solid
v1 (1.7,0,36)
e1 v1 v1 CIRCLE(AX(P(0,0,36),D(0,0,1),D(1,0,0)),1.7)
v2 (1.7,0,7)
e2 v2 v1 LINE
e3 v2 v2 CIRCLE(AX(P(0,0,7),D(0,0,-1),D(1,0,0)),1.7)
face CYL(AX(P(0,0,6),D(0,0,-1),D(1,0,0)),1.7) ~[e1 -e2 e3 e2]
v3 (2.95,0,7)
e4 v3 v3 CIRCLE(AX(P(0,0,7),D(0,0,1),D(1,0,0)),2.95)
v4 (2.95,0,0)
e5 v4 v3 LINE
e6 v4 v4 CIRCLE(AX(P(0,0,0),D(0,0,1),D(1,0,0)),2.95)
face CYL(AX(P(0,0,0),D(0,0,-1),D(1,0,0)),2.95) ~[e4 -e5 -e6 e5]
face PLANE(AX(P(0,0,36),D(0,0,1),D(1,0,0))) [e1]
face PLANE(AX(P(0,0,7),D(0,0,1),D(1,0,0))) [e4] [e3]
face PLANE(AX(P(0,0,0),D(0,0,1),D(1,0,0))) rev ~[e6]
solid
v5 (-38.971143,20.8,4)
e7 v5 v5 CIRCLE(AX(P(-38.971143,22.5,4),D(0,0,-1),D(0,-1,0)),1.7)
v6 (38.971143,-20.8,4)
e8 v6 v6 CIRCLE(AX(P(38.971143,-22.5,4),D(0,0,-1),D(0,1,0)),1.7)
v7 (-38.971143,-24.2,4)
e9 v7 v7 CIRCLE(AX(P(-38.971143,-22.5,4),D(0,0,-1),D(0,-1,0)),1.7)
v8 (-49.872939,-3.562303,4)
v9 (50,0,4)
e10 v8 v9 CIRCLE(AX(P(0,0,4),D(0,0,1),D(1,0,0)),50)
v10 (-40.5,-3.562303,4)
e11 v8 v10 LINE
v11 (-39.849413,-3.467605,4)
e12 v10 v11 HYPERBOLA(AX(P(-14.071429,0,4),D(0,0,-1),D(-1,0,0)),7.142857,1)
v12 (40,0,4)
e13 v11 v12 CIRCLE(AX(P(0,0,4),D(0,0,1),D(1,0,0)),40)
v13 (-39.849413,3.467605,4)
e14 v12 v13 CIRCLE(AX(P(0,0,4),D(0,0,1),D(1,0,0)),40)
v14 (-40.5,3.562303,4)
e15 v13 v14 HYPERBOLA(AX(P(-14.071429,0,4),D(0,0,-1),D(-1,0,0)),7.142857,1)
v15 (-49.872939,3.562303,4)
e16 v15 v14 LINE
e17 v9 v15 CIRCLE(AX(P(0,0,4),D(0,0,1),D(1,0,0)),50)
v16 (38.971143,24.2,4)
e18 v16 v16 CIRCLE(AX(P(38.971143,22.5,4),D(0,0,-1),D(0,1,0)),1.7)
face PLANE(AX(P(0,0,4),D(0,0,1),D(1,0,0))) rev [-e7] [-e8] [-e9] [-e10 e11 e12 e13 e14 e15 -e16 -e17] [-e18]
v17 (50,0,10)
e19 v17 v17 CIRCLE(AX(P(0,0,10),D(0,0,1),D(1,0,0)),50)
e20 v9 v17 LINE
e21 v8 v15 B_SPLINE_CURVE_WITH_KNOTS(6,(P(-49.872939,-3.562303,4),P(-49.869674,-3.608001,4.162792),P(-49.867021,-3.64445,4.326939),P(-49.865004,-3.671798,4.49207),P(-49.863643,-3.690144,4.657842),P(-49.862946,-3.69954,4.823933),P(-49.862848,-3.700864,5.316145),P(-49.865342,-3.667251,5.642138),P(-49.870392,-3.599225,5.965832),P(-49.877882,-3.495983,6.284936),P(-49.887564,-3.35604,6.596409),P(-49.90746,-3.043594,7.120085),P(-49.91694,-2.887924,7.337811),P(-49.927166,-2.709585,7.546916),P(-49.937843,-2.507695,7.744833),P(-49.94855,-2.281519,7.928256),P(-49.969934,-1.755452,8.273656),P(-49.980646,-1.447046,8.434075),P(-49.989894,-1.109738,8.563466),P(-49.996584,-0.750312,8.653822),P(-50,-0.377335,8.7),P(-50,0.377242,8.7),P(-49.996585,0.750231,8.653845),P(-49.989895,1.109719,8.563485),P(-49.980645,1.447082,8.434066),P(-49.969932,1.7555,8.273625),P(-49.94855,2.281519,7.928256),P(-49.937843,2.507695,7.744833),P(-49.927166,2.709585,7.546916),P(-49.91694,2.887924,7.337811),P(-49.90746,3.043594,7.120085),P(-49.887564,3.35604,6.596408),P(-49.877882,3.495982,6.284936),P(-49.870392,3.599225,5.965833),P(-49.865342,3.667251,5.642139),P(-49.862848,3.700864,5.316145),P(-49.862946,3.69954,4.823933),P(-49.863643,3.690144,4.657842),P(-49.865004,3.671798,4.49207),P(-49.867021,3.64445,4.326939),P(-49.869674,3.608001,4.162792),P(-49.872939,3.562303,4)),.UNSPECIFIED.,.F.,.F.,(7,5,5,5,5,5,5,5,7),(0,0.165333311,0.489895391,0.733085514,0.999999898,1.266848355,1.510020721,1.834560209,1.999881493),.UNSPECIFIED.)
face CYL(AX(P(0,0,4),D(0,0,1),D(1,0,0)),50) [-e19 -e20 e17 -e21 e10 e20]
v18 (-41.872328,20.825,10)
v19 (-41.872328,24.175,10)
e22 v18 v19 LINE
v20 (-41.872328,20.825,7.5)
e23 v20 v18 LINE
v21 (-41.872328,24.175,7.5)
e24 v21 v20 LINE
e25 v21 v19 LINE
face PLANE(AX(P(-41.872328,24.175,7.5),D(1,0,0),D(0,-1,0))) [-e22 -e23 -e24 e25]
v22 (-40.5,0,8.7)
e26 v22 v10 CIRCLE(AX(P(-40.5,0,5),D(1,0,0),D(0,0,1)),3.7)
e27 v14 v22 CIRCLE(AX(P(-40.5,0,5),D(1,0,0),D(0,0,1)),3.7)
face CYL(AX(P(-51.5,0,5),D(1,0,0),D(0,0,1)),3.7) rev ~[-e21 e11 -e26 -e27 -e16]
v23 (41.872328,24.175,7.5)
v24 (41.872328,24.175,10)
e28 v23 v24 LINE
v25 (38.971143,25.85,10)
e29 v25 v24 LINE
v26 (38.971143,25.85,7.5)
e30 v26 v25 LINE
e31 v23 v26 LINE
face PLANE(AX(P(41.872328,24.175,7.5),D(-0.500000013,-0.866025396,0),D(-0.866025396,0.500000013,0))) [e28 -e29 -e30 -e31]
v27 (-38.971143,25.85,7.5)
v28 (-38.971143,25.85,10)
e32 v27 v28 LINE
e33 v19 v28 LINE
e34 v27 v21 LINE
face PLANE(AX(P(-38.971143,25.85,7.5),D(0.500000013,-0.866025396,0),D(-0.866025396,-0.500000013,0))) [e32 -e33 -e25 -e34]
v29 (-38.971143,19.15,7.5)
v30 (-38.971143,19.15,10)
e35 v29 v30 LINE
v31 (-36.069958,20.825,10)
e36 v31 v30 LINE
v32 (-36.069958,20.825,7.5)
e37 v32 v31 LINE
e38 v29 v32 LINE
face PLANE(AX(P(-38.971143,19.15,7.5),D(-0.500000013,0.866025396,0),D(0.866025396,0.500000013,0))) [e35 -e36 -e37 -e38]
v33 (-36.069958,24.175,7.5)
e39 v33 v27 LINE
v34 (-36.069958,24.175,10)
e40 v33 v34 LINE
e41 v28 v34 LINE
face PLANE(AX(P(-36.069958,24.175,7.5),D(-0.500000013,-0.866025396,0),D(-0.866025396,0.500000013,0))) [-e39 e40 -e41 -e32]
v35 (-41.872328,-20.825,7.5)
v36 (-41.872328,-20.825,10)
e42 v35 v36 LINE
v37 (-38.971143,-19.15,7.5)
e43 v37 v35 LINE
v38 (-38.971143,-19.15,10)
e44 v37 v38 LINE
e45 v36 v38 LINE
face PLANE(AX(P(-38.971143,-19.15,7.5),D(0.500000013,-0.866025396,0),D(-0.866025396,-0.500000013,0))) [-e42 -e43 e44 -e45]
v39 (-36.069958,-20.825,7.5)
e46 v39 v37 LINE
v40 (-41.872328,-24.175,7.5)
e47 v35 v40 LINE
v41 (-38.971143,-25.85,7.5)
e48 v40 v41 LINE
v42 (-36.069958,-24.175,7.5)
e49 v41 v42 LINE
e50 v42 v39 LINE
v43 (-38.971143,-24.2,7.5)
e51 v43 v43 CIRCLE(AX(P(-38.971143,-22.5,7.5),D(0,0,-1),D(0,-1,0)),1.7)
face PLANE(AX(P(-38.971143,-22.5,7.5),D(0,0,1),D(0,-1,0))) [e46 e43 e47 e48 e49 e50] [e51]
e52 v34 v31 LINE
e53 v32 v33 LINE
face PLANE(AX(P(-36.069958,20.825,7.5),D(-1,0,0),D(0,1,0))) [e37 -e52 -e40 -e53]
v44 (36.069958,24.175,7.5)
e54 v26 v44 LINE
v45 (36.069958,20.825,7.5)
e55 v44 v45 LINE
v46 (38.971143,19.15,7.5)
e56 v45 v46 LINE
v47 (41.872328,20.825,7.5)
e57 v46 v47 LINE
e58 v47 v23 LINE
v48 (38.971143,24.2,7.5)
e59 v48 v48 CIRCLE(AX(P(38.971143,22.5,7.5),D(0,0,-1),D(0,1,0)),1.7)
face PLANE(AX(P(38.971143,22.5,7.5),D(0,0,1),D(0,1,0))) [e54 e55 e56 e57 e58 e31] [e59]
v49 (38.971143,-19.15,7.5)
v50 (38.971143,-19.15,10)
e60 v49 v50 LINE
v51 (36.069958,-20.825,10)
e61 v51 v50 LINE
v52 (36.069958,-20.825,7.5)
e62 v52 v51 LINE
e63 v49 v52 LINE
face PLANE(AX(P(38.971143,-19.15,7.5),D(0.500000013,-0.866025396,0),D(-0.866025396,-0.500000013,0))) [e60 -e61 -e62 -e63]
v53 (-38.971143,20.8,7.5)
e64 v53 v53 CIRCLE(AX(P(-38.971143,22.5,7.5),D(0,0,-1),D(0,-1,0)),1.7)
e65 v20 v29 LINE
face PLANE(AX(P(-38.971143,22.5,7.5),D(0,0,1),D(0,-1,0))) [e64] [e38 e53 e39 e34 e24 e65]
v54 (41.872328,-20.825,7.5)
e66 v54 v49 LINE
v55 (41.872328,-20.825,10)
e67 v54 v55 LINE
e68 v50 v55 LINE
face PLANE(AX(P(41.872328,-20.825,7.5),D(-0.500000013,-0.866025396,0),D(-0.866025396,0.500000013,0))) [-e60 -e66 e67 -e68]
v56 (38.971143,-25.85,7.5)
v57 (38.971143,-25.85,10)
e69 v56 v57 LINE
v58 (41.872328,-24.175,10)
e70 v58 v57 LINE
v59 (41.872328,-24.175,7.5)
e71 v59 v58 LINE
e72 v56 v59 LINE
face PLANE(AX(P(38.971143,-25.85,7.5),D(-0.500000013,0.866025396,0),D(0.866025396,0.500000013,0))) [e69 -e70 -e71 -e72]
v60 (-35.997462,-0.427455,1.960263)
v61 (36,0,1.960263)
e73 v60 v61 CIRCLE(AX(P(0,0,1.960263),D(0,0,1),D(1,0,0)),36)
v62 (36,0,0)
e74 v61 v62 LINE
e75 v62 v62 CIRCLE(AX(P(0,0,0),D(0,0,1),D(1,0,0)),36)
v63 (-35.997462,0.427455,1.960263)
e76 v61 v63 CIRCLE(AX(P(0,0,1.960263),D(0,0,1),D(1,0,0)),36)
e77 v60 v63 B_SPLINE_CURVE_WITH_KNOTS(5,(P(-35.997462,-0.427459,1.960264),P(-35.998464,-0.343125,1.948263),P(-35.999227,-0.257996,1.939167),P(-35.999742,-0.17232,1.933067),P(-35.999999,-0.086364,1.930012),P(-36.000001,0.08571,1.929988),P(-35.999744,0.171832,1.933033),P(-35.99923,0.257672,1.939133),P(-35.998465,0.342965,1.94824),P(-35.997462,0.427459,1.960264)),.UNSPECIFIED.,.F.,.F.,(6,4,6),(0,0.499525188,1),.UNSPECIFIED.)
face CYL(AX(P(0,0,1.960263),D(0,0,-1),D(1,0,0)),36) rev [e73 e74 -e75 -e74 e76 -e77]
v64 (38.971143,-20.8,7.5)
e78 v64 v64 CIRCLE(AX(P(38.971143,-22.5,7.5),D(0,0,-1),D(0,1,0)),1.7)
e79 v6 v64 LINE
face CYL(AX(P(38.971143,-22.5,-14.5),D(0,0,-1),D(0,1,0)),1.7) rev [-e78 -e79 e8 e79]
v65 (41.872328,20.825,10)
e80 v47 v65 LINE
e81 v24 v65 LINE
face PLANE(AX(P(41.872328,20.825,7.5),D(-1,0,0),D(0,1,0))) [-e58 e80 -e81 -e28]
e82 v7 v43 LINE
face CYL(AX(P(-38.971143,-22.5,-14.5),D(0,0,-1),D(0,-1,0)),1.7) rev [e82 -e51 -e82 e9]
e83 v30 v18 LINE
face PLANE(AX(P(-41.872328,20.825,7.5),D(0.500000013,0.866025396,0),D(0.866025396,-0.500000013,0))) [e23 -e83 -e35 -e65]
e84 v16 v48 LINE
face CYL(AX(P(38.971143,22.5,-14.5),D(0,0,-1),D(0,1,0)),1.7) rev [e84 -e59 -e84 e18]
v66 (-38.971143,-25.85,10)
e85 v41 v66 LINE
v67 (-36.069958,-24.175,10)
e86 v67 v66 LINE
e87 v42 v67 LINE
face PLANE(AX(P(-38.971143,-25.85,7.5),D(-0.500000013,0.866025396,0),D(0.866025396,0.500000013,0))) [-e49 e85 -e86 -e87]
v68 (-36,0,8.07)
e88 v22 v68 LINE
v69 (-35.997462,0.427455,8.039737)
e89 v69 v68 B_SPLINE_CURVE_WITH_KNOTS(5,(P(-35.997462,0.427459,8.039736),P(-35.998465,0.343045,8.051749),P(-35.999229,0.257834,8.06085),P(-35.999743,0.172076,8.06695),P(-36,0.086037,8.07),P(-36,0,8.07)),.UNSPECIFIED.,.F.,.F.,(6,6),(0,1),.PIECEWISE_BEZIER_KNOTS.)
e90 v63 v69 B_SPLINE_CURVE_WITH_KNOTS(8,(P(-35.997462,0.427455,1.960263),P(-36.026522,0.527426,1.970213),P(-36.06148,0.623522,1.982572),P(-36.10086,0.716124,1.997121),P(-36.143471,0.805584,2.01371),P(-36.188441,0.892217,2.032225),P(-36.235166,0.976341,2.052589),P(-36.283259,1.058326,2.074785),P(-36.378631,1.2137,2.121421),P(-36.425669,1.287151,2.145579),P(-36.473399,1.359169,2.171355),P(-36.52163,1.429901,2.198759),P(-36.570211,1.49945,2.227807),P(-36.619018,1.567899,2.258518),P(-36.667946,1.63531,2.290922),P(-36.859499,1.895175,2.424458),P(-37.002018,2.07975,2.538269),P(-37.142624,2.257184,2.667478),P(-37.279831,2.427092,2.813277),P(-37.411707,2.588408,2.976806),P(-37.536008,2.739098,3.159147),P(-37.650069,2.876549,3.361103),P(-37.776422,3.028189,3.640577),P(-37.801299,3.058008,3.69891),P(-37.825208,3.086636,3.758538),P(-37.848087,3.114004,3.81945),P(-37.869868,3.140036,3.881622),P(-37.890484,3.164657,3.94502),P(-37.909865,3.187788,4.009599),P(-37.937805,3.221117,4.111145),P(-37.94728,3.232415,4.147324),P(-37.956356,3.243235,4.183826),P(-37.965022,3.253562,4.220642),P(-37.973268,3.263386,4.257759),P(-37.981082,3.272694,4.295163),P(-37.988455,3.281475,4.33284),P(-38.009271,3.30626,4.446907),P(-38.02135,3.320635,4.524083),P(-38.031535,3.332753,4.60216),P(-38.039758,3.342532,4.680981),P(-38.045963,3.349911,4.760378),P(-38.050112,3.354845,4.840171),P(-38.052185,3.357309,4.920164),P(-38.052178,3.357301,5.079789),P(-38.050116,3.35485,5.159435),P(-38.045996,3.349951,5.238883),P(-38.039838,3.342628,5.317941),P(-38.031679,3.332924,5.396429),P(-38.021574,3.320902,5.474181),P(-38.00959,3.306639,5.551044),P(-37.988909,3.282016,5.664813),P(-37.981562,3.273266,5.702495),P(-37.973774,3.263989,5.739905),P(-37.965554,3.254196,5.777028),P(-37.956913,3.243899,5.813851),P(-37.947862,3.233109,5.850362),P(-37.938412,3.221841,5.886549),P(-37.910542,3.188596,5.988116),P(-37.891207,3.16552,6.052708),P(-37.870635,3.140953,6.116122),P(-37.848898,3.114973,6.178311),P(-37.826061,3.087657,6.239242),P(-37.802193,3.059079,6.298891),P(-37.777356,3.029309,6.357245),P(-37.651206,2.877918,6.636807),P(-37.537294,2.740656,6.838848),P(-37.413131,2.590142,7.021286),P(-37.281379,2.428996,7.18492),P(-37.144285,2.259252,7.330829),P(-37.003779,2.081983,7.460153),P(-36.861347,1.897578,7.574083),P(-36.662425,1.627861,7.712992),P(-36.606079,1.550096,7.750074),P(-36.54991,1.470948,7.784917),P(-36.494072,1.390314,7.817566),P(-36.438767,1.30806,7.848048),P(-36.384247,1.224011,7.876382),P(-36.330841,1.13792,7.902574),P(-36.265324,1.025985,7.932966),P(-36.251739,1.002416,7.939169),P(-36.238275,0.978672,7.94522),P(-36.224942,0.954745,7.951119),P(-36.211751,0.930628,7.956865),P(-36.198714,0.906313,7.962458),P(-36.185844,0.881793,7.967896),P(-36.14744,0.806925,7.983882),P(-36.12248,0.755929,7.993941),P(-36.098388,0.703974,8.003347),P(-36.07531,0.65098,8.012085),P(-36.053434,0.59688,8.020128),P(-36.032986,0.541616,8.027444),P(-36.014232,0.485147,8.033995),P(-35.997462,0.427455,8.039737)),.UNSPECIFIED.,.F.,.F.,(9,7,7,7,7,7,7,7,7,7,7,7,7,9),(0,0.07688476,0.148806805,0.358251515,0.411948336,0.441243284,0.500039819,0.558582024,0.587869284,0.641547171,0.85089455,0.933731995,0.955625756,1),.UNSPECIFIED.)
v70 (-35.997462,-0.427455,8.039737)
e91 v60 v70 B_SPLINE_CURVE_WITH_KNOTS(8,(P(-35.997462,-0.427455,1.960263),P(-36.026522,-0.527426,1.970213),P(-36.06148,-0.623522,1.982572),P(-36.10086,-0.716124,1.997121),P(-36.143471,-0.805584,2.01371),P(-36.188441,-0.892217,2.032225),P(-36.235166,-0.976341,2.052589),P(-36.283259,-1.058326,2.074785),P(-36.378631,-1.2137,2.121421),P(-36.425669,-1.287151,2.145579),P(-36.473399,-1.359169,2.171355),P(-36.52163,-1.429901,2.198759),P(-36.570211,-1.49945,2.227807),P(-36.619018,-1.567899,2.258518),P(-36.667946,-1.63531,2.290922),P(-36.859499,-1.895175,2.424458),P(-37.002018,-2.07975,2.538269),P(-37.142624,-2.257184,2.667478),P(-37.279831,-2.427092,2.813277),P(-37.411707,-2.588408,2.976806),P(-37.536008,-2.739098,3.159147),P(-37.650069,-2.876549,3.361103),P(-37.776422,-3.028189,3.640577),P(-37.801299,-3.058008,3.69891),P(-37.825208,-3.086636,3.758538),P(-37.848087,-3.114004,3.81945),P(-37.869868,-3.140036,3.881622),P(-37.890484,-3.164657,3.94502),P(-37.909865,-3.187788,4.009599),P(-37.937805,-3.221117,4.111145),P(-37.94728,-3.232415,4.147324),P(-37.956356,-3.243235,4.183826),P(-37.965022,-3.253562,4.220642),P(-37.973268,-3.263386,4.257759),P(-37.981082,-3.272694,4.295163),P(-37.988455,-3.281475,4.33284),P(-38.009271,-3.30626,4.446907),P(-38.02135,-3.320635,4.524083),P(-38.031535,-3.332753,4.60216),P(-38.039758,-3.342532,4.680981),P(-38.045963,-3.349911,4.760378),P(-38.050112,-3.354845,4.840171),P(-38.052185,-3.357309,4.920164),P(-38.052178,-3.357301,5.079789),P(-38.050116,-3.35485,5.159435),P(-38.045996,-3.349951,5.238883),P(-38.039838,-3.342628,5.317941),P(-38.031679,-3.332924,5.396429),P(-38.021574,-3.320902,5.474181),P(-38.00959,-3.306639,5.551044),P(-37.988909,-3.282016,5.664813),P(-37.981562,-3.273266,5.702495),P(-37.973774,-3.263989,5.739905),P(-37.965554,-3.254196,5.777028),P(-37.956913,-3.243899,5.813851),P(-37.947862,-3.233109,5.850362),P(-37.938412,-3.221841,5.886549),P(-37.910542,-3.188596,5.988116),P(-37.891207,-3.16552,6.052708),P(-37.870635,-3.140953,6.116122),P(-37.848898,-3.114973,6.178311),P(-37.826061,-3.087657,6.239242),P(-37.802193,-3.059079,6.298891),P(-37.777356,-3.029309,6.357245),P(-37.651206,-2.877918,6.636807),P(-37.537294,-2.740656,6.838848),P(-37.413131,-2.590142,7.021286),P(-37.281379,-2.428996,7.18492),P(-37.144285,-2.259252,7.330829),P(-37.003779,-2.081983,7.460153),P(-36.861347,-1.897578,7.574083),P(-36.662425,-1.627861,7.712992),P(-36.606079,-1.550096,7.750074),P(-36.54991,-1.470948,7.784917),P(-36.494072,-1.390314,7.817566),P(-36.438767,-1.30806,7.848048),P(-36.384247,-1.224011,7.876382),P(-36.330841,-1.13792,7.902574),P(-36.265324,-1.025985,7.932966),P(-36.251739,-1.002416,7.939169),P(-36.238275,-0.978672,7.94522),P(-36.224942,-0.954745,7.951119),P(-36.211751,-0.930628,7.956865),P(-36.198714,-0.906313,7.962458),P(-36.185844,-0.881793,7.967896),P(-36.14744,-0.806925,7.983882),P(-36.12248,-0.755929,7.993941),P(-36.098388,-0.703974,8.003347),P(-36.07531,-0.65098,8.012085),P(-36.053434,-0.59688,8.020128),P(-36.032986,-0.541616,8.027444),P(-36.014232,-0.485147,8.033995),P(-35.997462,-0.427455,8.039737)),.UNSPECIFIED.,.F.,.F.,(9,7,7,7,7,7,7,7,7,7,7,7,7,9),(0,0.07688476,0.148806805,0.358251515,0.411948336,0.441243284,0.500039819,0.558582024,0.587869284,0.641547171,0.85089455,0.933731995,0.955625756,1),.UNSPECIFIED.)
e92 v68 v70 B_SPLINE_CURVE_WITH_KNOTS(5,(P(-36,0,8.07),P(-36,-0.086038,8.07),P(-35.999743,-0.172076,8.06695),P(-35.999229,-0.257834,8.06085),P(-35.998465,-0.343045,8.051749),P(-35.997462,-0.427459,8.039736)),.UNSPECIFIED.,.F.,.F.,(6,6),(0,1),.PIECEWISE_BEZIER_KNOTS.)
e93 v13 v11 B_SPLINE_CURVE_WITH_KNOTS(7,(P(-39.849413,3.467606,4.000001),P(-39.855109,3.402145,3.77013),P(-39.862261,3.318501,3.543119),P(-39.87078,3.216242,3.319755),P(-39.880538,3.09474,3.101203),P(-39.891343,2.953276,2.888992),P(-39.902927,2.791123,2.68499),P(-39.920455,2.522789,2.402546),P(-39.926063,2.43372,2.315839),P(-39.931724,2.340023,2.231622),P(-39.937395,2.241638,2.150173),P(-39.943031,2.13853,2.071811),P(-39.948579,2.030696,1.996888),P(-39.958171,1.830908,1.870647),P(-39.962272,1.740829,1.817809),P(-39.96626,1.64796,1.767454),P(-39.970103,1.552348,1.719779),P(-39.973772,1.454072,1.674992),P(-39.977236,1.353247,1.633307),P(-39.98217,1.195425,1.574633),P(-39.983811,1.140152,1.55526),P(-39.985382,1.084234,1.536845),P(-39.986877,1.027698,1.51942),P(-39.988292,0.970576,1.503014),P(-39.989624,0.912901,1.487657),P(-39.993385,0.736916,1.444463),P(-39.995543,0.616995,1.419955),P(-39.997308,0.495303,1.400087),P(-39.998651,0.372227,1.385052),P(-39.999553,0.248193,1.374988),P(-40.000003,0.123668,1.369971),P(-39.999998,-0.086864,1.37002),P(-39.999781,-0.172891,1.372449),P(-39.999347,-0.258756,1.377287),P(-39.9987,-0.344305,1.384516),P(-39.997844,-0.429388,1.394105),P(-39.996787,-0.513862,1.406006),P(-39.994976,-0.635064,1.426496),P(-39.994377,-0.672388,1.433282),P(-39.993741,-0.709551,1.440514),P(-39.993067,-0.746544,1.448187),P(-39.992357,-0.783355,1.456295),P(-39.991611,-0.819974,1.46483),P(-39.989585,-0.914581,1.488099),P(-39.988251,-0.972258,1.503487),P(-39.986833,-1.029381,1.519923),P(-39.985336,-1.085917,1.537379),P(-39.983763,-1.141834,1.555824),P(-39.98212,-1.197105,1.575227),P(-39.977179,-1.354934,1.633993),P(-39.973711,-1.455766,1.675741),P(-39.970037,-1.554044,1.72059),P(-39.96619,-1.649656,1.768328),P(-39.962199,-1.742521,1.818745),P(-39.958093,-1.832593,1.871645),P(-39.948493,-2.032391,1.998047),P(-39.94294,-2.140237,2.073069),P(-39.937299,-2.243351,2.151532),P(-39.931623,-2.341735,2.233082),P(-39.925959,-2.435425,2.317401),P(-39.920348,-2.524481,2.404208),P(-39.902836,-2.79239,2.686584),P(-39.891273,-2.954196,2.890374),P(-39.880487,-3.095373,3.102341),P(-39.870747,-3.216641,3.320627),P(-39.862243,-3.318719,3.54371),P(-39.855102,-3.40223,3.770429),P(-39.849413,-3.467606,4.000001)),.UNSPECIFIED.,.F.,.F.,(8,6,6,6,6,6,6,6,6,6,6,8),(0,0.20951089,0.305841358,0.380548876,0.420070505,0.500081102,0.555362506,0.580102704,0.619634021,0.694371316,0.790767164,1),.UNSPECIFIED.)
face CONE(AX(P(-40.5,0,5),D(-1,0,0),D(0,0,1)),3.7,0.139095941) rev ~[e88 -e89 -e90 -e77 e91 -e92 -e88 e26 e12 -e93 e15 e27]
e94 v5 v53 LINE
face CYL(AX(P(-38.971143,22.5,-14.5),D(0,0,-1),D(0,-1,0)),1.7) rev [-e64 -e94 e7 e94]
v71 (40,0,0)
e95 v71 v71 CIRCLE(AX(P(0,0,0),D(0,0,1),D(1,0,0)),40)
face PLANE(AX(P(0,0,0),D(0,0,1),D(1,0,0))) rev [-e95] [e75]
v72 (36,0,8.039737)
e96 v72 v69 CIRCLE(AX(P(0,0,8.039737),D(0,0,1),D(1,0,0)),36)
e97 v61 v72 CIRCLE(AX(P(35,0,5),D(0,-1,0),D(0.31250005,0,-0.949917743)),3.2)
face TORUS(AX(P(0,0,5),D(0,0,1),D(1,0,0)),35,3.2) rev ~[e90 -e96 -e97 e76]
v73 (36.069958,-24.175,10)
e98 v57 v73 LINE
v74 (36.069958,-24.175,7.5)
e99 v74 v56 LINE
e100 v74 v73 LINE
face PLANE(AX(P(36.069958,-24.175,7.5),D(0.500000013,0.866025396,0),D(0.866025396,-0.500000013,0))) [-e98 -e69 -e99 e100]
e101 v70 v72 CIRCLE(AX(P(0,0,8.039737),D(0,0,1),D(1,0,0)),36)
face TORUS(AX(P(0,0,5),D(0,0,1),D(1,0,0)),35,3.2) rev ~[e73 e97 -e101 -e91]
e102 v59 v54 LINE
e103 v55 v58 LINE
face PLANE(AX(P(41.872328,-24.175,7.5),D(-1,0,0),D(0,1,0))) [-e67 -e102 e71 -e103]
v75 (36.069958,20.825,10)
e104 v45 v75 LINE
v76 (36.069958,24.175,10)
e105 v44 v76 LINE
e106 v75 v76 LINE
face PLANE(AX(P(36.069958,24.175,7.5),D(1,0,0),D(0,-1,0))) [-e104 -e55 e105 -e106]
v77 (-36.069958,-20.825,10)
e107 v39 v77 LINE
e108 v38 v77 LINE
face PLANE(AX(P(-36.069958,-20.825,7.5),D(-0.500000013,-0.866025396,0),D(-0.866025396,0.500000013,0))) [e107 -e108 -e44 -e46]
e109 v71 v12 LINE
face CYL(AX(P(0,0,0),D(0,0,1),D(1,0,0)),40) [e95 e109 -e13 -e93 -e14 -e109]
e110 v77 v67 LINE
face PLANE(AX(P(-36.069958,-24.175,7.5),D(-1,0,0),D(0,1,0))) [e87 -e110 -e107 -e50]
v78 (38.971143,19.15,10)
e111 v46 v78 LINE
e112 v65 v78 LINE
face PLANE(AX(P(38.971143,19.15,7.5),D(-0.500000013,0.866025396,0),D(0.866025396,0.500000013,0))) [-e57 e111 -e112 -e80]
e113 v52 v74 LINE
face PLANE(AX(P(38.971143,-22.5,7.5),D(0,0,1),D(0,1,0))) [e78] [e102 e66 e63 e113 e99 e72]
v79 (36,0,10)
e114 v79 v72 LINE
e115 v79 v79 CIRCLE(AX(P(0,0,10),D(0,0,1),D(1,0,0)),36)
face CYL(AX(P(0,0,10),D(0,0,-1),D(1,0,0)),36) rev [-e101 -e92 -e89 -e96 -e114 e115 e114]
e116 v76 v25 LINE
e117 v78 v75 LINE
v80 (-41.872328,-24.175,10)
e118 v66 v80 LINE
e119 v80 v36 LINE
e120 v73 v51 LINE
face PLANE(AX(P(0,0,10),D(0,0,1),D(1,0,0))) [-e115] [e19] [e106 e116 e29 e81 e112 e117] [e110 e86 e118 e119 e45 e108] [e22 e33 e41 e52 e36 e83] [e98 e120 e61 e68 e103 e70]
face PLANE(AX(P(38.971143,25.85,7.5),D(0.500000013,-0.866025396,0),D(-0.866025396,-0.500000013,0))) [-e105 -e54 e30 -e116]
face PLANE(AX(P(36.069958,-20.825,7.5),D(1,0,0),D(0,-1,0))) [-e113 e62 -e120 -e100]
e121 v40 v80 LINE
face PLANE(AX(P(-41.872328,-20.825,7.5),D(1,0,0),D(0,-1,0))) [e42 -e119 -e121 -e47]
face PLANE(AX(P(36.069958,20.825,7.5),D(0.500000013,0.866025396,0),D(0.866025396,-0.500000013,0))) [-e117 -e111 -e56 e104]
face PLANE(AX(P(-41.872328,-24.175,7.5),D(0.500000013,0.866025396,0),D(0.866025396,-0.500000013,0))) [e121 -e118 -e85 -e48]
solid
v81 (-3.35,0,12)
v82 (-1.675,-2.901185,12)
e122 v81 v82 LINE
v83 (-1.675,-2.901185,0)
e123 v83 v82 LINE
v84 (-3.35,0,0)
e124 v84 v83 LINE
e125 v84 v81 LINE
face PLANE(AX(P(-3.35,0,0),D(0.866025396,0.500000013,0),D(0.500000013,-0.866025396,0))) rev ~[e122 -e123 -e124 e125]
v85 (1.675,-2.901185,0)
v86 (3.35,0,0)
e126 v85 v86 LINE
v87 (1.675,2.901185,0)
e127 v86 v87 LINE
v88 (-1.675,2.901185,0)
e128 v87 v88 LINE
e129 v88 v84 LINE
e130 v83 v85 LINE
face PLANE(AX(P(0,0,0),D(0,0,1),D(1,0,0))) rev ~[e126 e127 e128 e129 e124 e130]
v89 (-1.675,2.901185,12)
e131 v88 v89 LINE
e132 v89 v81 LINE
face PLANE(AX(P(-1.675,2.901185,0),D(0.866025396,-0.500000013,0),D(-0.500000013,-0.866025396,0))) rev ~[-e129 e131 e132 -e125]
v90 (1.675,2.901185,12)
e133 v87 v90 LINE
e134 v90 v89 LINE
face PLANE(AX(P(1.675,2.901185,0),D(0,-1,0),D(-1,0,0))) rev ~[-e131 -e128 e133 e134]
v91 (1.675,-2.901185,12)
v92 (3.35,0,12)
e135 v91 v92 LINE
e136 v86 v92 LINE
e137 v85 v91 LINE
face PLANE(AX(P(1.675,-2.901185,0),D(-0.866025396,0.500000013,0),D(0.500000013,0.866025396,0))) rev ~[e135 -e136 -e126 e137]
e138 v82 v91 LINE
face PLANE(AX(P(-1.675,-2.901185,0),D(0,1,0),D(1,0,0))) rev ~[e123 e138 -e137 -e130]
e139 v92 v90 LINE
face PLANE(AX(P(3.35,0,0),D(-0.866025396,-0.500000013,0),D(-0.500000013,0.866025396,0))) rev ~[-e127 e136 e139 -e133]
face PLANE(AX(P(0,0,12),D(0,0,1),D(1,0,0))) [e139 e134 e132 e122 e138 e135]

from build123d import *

# Parameters (mm, degrees)
CYLINDER_R               = 2.95
CYLINDER_DEPTH           = 7
CYLINDER001_R            = 1.7
CYLINDER001_DEPTH        = 30
PRISM_DEPTH              = 12
CLONE255_PLACEMENT_ANGLE = -90
CLONE258_PLACEMENT_ANGLE = 90
CLONE259_PLACEMENT_ANGLE = -90
CLONE256_PLACEMENT_ANGLE = 90
CLONE254_PLACEMENT_ANGLE = 90
CLONE257_PLACEMENT_ANGLE = -90
CLONE253_PLACEMENT_ANGLE = -90
CLONE252_PLACEMENT_ANGLE = 90


with BuildPart() as m3bolthead:
    # Cylinder → Cylinder (new body)
    with BuildSketch(Plane.XY):
        Circle(CYLINDER_R)
    extrude(amount=CYLINDER_DEPTH)


with BuildPart() as m3bolt:
    # Cylinder001 → Cylinder001 (new body)
    with BuildSketch(Plane.XY.offset(6)):
        Circle(CYLINDER001_R)
    extrude(amount=CYLINDER001_DEPTH)

    # Fusion: union M3BoltHead
    add(m3bolthead.part)


with BuildPart() as m3nut:
    # Prism → Prism (new body)
    with BuildSketch(Plane.XY):
        Polygon((3.35, 0), (1.675, 2.901185), (-1.675, 2.901185), (-3.35, 0), (-1.675, -2.901185), (1.675, -2.901185), align=None)
    extrude(amount=PRISM_DEPTH)


with BuildPart() as clone_of_m3bolt088:
    # Clone255 base: copy of M3Bolt
    add(m3bolt.part)


with BuildPart() as clone_of_m3bolt088_1:
    # Clone255 placement: moved
    add(clone_of_m3bolt088.part.moved(Location((-38.971143, 22.5, -20.5))).rotate(Axis((-38.971143, 22.5, -20.5), (0, 0, 1)), CLONE255_PLACEMENT_ANGLE))


with BuildPart() as clone_of_m3nut011:
    # Clone258 base: copy of M3Nut
    add(m3nut.part)


with BuildPart() as clone_of_m3nut011_1:
    # Clone258 placement: moved
    add(clone_of_m3nut011.part.moved(Location((38.971143, -22.5, 7.5))).rotate(Axis((38.971143, -22.5, 7.5), (0, 0, 1)), CLONE258_PLACEMENT_ANGLE))


with BuildPart() as clone_of_m3nut012:
    # Clone259 base: copy of M3Nut
    add(m3nut.part)


with BuildPart() as clone_of_m3nut012_1:
    # Clone259 placement: moved
    add(clone_of_m3nut012.part.moved(Location((-38.971143, 22.5, 7.5))).rotate(Axis((-38.971143, 22.5, 7.5), (0, 0, 1)), CLONE259_PLACEMENT_ANGLE))


with BuildPart() as clone_of_m3nut009:
    # Clone256 base: copy of M3Nut
    add(m3nut.part)


with BuildPart() as clone_of_m3nut009_1:
    # Clone256 placement: moved
    add(clone_of_m3nut009.part.moved(Location((38.971143, 22.5, 7.5))).rotate(Axis((38.971143, 22.5, 7.5), (0, 0, 1)), CLONE256_PLACEMENT_ANGLE))


with BuildPart() as clone_of_m3bolt087:
    # Clone254 base: copy of M3Bolt
    add(m3bolt.part)


with BuildPart() as clone_of_m3bolt087_1:
    # Clone254 placement: moved
    add(clone_of_m3bolt087.part.moved(Location((38.971143, -22.5, -20.5))).rotate(Axis((38.971143, -22.5, -20.5), (0, 0, 1)), CLONE254_PLACEMENT_ANGLE))


with BuildPart() as clone_of_m3nut010:
    # Clone257 base: copy of M3Nut
    add(m3nut.part)


with BuildPart() as clone_of_m3nut010_1:
    # Clone257 placement: moved
    add(clone_of_m3nut010.part.moved(Location((-38.971143, -22.5, 7.5))).rotate(Axis((-38.971143, -22.5, 7.5), (0, 0, 1)), CLONE257_PLACEMENT_ANGLE))


with BuildPart() as clone_of_m3bolt086:
    # Clone253 base: copy of M3Bolt
    add(m3bolt.part)


with BuildPart() as clone_of_m3bolt086_1:
    # Clone253 placement: moved
    add(clone_of_m3bolt086.part.moved(Location((-38.971143, -22.5, -20.5))).rotate(Axis((-38.971143, -22.5, -20.5), (0, 0, 1)), CLONE253_PLACEMENT_ANGLE))


with BuildPart() as fusion090:
    # Clone252 base: copy of M3Bolt
    add(m3bolt.part)


with BuildPart() as fusion090_1:
    # Clone252 placement: moved
    add(fusion090.part.moved(Location((38.971143, 22.5, -20.5))).rotate(Axis((38.971143, 22.5, -20.5), (0, 0, 1)), CLONE252_PLACEMENT_ANGLE))

    # Fusion090: union Clone of M3Bolt088, Clone of M3Nut011, Clone of M3Nut012, Clone of M3Nut009, Clone of M3Bolt087, Clone of M3Nut010, Clone of M3Bolt086
    add(clone_of_m3bolt088_1.part)
    add(clone_of_m3nut011_1.part)
    add(clone_of_m3nut012_1.part)
    add(clone_of_m3nut009_1.part)
    add(clone_of_m3bolt087_1.part)
    add(clone_of_m3nut010_1.part)
    add(clone_of_m3bolt086_1.part)


with BuildPart() as revolution010:
    # Sketch048 → Revolution010 (revolve)
    with BuildSketch(Plane(origin=(-51.5, 0, 5), x_dir=(1, 0, 0), z_dir=(0, -1, 0))):
        Polygon((0, 0), (0, 3.7), (11, 3.7), (16, 3), (16, 0), align=None)
    revolve(axis=Axis((-51.5, 0, 5), (1, 0, 0)))


with BuildPart() as art4bearingringmaster:
    # Sketch047 → Revolution009 (revolve)
    with BuildSketch(Plane.XZ):
        with BuildLine():
            Line((36, 1.960263), (36, 0))
            Line((36, 0), (40, 0))
            Line((40, 0), (40, 4))
            Line((40, 4), (50, 4))
            Line((50, 4), (50, 10))
            Line((50, 10), (36, 10))
            Line((36, 10), (36, 8.039737))
            ThreePointArc((36, 1.960263), (38.2, 5), (36, 8.039737))
        make_face()
    revolve(axis=Axis((0, 0, 0), (0, 0, 1)))

    # Cut077: cut Revolution010
    add(revolution010.part, mode=Mode.SUBTRACT)

    # Cut078: cut Fusion090
    add(fusion090_1.part, mode=Mode.SUBTRACT)


solid = Compound([m3bolt.part, m3nut.part, art4bearingringmaster.part])
